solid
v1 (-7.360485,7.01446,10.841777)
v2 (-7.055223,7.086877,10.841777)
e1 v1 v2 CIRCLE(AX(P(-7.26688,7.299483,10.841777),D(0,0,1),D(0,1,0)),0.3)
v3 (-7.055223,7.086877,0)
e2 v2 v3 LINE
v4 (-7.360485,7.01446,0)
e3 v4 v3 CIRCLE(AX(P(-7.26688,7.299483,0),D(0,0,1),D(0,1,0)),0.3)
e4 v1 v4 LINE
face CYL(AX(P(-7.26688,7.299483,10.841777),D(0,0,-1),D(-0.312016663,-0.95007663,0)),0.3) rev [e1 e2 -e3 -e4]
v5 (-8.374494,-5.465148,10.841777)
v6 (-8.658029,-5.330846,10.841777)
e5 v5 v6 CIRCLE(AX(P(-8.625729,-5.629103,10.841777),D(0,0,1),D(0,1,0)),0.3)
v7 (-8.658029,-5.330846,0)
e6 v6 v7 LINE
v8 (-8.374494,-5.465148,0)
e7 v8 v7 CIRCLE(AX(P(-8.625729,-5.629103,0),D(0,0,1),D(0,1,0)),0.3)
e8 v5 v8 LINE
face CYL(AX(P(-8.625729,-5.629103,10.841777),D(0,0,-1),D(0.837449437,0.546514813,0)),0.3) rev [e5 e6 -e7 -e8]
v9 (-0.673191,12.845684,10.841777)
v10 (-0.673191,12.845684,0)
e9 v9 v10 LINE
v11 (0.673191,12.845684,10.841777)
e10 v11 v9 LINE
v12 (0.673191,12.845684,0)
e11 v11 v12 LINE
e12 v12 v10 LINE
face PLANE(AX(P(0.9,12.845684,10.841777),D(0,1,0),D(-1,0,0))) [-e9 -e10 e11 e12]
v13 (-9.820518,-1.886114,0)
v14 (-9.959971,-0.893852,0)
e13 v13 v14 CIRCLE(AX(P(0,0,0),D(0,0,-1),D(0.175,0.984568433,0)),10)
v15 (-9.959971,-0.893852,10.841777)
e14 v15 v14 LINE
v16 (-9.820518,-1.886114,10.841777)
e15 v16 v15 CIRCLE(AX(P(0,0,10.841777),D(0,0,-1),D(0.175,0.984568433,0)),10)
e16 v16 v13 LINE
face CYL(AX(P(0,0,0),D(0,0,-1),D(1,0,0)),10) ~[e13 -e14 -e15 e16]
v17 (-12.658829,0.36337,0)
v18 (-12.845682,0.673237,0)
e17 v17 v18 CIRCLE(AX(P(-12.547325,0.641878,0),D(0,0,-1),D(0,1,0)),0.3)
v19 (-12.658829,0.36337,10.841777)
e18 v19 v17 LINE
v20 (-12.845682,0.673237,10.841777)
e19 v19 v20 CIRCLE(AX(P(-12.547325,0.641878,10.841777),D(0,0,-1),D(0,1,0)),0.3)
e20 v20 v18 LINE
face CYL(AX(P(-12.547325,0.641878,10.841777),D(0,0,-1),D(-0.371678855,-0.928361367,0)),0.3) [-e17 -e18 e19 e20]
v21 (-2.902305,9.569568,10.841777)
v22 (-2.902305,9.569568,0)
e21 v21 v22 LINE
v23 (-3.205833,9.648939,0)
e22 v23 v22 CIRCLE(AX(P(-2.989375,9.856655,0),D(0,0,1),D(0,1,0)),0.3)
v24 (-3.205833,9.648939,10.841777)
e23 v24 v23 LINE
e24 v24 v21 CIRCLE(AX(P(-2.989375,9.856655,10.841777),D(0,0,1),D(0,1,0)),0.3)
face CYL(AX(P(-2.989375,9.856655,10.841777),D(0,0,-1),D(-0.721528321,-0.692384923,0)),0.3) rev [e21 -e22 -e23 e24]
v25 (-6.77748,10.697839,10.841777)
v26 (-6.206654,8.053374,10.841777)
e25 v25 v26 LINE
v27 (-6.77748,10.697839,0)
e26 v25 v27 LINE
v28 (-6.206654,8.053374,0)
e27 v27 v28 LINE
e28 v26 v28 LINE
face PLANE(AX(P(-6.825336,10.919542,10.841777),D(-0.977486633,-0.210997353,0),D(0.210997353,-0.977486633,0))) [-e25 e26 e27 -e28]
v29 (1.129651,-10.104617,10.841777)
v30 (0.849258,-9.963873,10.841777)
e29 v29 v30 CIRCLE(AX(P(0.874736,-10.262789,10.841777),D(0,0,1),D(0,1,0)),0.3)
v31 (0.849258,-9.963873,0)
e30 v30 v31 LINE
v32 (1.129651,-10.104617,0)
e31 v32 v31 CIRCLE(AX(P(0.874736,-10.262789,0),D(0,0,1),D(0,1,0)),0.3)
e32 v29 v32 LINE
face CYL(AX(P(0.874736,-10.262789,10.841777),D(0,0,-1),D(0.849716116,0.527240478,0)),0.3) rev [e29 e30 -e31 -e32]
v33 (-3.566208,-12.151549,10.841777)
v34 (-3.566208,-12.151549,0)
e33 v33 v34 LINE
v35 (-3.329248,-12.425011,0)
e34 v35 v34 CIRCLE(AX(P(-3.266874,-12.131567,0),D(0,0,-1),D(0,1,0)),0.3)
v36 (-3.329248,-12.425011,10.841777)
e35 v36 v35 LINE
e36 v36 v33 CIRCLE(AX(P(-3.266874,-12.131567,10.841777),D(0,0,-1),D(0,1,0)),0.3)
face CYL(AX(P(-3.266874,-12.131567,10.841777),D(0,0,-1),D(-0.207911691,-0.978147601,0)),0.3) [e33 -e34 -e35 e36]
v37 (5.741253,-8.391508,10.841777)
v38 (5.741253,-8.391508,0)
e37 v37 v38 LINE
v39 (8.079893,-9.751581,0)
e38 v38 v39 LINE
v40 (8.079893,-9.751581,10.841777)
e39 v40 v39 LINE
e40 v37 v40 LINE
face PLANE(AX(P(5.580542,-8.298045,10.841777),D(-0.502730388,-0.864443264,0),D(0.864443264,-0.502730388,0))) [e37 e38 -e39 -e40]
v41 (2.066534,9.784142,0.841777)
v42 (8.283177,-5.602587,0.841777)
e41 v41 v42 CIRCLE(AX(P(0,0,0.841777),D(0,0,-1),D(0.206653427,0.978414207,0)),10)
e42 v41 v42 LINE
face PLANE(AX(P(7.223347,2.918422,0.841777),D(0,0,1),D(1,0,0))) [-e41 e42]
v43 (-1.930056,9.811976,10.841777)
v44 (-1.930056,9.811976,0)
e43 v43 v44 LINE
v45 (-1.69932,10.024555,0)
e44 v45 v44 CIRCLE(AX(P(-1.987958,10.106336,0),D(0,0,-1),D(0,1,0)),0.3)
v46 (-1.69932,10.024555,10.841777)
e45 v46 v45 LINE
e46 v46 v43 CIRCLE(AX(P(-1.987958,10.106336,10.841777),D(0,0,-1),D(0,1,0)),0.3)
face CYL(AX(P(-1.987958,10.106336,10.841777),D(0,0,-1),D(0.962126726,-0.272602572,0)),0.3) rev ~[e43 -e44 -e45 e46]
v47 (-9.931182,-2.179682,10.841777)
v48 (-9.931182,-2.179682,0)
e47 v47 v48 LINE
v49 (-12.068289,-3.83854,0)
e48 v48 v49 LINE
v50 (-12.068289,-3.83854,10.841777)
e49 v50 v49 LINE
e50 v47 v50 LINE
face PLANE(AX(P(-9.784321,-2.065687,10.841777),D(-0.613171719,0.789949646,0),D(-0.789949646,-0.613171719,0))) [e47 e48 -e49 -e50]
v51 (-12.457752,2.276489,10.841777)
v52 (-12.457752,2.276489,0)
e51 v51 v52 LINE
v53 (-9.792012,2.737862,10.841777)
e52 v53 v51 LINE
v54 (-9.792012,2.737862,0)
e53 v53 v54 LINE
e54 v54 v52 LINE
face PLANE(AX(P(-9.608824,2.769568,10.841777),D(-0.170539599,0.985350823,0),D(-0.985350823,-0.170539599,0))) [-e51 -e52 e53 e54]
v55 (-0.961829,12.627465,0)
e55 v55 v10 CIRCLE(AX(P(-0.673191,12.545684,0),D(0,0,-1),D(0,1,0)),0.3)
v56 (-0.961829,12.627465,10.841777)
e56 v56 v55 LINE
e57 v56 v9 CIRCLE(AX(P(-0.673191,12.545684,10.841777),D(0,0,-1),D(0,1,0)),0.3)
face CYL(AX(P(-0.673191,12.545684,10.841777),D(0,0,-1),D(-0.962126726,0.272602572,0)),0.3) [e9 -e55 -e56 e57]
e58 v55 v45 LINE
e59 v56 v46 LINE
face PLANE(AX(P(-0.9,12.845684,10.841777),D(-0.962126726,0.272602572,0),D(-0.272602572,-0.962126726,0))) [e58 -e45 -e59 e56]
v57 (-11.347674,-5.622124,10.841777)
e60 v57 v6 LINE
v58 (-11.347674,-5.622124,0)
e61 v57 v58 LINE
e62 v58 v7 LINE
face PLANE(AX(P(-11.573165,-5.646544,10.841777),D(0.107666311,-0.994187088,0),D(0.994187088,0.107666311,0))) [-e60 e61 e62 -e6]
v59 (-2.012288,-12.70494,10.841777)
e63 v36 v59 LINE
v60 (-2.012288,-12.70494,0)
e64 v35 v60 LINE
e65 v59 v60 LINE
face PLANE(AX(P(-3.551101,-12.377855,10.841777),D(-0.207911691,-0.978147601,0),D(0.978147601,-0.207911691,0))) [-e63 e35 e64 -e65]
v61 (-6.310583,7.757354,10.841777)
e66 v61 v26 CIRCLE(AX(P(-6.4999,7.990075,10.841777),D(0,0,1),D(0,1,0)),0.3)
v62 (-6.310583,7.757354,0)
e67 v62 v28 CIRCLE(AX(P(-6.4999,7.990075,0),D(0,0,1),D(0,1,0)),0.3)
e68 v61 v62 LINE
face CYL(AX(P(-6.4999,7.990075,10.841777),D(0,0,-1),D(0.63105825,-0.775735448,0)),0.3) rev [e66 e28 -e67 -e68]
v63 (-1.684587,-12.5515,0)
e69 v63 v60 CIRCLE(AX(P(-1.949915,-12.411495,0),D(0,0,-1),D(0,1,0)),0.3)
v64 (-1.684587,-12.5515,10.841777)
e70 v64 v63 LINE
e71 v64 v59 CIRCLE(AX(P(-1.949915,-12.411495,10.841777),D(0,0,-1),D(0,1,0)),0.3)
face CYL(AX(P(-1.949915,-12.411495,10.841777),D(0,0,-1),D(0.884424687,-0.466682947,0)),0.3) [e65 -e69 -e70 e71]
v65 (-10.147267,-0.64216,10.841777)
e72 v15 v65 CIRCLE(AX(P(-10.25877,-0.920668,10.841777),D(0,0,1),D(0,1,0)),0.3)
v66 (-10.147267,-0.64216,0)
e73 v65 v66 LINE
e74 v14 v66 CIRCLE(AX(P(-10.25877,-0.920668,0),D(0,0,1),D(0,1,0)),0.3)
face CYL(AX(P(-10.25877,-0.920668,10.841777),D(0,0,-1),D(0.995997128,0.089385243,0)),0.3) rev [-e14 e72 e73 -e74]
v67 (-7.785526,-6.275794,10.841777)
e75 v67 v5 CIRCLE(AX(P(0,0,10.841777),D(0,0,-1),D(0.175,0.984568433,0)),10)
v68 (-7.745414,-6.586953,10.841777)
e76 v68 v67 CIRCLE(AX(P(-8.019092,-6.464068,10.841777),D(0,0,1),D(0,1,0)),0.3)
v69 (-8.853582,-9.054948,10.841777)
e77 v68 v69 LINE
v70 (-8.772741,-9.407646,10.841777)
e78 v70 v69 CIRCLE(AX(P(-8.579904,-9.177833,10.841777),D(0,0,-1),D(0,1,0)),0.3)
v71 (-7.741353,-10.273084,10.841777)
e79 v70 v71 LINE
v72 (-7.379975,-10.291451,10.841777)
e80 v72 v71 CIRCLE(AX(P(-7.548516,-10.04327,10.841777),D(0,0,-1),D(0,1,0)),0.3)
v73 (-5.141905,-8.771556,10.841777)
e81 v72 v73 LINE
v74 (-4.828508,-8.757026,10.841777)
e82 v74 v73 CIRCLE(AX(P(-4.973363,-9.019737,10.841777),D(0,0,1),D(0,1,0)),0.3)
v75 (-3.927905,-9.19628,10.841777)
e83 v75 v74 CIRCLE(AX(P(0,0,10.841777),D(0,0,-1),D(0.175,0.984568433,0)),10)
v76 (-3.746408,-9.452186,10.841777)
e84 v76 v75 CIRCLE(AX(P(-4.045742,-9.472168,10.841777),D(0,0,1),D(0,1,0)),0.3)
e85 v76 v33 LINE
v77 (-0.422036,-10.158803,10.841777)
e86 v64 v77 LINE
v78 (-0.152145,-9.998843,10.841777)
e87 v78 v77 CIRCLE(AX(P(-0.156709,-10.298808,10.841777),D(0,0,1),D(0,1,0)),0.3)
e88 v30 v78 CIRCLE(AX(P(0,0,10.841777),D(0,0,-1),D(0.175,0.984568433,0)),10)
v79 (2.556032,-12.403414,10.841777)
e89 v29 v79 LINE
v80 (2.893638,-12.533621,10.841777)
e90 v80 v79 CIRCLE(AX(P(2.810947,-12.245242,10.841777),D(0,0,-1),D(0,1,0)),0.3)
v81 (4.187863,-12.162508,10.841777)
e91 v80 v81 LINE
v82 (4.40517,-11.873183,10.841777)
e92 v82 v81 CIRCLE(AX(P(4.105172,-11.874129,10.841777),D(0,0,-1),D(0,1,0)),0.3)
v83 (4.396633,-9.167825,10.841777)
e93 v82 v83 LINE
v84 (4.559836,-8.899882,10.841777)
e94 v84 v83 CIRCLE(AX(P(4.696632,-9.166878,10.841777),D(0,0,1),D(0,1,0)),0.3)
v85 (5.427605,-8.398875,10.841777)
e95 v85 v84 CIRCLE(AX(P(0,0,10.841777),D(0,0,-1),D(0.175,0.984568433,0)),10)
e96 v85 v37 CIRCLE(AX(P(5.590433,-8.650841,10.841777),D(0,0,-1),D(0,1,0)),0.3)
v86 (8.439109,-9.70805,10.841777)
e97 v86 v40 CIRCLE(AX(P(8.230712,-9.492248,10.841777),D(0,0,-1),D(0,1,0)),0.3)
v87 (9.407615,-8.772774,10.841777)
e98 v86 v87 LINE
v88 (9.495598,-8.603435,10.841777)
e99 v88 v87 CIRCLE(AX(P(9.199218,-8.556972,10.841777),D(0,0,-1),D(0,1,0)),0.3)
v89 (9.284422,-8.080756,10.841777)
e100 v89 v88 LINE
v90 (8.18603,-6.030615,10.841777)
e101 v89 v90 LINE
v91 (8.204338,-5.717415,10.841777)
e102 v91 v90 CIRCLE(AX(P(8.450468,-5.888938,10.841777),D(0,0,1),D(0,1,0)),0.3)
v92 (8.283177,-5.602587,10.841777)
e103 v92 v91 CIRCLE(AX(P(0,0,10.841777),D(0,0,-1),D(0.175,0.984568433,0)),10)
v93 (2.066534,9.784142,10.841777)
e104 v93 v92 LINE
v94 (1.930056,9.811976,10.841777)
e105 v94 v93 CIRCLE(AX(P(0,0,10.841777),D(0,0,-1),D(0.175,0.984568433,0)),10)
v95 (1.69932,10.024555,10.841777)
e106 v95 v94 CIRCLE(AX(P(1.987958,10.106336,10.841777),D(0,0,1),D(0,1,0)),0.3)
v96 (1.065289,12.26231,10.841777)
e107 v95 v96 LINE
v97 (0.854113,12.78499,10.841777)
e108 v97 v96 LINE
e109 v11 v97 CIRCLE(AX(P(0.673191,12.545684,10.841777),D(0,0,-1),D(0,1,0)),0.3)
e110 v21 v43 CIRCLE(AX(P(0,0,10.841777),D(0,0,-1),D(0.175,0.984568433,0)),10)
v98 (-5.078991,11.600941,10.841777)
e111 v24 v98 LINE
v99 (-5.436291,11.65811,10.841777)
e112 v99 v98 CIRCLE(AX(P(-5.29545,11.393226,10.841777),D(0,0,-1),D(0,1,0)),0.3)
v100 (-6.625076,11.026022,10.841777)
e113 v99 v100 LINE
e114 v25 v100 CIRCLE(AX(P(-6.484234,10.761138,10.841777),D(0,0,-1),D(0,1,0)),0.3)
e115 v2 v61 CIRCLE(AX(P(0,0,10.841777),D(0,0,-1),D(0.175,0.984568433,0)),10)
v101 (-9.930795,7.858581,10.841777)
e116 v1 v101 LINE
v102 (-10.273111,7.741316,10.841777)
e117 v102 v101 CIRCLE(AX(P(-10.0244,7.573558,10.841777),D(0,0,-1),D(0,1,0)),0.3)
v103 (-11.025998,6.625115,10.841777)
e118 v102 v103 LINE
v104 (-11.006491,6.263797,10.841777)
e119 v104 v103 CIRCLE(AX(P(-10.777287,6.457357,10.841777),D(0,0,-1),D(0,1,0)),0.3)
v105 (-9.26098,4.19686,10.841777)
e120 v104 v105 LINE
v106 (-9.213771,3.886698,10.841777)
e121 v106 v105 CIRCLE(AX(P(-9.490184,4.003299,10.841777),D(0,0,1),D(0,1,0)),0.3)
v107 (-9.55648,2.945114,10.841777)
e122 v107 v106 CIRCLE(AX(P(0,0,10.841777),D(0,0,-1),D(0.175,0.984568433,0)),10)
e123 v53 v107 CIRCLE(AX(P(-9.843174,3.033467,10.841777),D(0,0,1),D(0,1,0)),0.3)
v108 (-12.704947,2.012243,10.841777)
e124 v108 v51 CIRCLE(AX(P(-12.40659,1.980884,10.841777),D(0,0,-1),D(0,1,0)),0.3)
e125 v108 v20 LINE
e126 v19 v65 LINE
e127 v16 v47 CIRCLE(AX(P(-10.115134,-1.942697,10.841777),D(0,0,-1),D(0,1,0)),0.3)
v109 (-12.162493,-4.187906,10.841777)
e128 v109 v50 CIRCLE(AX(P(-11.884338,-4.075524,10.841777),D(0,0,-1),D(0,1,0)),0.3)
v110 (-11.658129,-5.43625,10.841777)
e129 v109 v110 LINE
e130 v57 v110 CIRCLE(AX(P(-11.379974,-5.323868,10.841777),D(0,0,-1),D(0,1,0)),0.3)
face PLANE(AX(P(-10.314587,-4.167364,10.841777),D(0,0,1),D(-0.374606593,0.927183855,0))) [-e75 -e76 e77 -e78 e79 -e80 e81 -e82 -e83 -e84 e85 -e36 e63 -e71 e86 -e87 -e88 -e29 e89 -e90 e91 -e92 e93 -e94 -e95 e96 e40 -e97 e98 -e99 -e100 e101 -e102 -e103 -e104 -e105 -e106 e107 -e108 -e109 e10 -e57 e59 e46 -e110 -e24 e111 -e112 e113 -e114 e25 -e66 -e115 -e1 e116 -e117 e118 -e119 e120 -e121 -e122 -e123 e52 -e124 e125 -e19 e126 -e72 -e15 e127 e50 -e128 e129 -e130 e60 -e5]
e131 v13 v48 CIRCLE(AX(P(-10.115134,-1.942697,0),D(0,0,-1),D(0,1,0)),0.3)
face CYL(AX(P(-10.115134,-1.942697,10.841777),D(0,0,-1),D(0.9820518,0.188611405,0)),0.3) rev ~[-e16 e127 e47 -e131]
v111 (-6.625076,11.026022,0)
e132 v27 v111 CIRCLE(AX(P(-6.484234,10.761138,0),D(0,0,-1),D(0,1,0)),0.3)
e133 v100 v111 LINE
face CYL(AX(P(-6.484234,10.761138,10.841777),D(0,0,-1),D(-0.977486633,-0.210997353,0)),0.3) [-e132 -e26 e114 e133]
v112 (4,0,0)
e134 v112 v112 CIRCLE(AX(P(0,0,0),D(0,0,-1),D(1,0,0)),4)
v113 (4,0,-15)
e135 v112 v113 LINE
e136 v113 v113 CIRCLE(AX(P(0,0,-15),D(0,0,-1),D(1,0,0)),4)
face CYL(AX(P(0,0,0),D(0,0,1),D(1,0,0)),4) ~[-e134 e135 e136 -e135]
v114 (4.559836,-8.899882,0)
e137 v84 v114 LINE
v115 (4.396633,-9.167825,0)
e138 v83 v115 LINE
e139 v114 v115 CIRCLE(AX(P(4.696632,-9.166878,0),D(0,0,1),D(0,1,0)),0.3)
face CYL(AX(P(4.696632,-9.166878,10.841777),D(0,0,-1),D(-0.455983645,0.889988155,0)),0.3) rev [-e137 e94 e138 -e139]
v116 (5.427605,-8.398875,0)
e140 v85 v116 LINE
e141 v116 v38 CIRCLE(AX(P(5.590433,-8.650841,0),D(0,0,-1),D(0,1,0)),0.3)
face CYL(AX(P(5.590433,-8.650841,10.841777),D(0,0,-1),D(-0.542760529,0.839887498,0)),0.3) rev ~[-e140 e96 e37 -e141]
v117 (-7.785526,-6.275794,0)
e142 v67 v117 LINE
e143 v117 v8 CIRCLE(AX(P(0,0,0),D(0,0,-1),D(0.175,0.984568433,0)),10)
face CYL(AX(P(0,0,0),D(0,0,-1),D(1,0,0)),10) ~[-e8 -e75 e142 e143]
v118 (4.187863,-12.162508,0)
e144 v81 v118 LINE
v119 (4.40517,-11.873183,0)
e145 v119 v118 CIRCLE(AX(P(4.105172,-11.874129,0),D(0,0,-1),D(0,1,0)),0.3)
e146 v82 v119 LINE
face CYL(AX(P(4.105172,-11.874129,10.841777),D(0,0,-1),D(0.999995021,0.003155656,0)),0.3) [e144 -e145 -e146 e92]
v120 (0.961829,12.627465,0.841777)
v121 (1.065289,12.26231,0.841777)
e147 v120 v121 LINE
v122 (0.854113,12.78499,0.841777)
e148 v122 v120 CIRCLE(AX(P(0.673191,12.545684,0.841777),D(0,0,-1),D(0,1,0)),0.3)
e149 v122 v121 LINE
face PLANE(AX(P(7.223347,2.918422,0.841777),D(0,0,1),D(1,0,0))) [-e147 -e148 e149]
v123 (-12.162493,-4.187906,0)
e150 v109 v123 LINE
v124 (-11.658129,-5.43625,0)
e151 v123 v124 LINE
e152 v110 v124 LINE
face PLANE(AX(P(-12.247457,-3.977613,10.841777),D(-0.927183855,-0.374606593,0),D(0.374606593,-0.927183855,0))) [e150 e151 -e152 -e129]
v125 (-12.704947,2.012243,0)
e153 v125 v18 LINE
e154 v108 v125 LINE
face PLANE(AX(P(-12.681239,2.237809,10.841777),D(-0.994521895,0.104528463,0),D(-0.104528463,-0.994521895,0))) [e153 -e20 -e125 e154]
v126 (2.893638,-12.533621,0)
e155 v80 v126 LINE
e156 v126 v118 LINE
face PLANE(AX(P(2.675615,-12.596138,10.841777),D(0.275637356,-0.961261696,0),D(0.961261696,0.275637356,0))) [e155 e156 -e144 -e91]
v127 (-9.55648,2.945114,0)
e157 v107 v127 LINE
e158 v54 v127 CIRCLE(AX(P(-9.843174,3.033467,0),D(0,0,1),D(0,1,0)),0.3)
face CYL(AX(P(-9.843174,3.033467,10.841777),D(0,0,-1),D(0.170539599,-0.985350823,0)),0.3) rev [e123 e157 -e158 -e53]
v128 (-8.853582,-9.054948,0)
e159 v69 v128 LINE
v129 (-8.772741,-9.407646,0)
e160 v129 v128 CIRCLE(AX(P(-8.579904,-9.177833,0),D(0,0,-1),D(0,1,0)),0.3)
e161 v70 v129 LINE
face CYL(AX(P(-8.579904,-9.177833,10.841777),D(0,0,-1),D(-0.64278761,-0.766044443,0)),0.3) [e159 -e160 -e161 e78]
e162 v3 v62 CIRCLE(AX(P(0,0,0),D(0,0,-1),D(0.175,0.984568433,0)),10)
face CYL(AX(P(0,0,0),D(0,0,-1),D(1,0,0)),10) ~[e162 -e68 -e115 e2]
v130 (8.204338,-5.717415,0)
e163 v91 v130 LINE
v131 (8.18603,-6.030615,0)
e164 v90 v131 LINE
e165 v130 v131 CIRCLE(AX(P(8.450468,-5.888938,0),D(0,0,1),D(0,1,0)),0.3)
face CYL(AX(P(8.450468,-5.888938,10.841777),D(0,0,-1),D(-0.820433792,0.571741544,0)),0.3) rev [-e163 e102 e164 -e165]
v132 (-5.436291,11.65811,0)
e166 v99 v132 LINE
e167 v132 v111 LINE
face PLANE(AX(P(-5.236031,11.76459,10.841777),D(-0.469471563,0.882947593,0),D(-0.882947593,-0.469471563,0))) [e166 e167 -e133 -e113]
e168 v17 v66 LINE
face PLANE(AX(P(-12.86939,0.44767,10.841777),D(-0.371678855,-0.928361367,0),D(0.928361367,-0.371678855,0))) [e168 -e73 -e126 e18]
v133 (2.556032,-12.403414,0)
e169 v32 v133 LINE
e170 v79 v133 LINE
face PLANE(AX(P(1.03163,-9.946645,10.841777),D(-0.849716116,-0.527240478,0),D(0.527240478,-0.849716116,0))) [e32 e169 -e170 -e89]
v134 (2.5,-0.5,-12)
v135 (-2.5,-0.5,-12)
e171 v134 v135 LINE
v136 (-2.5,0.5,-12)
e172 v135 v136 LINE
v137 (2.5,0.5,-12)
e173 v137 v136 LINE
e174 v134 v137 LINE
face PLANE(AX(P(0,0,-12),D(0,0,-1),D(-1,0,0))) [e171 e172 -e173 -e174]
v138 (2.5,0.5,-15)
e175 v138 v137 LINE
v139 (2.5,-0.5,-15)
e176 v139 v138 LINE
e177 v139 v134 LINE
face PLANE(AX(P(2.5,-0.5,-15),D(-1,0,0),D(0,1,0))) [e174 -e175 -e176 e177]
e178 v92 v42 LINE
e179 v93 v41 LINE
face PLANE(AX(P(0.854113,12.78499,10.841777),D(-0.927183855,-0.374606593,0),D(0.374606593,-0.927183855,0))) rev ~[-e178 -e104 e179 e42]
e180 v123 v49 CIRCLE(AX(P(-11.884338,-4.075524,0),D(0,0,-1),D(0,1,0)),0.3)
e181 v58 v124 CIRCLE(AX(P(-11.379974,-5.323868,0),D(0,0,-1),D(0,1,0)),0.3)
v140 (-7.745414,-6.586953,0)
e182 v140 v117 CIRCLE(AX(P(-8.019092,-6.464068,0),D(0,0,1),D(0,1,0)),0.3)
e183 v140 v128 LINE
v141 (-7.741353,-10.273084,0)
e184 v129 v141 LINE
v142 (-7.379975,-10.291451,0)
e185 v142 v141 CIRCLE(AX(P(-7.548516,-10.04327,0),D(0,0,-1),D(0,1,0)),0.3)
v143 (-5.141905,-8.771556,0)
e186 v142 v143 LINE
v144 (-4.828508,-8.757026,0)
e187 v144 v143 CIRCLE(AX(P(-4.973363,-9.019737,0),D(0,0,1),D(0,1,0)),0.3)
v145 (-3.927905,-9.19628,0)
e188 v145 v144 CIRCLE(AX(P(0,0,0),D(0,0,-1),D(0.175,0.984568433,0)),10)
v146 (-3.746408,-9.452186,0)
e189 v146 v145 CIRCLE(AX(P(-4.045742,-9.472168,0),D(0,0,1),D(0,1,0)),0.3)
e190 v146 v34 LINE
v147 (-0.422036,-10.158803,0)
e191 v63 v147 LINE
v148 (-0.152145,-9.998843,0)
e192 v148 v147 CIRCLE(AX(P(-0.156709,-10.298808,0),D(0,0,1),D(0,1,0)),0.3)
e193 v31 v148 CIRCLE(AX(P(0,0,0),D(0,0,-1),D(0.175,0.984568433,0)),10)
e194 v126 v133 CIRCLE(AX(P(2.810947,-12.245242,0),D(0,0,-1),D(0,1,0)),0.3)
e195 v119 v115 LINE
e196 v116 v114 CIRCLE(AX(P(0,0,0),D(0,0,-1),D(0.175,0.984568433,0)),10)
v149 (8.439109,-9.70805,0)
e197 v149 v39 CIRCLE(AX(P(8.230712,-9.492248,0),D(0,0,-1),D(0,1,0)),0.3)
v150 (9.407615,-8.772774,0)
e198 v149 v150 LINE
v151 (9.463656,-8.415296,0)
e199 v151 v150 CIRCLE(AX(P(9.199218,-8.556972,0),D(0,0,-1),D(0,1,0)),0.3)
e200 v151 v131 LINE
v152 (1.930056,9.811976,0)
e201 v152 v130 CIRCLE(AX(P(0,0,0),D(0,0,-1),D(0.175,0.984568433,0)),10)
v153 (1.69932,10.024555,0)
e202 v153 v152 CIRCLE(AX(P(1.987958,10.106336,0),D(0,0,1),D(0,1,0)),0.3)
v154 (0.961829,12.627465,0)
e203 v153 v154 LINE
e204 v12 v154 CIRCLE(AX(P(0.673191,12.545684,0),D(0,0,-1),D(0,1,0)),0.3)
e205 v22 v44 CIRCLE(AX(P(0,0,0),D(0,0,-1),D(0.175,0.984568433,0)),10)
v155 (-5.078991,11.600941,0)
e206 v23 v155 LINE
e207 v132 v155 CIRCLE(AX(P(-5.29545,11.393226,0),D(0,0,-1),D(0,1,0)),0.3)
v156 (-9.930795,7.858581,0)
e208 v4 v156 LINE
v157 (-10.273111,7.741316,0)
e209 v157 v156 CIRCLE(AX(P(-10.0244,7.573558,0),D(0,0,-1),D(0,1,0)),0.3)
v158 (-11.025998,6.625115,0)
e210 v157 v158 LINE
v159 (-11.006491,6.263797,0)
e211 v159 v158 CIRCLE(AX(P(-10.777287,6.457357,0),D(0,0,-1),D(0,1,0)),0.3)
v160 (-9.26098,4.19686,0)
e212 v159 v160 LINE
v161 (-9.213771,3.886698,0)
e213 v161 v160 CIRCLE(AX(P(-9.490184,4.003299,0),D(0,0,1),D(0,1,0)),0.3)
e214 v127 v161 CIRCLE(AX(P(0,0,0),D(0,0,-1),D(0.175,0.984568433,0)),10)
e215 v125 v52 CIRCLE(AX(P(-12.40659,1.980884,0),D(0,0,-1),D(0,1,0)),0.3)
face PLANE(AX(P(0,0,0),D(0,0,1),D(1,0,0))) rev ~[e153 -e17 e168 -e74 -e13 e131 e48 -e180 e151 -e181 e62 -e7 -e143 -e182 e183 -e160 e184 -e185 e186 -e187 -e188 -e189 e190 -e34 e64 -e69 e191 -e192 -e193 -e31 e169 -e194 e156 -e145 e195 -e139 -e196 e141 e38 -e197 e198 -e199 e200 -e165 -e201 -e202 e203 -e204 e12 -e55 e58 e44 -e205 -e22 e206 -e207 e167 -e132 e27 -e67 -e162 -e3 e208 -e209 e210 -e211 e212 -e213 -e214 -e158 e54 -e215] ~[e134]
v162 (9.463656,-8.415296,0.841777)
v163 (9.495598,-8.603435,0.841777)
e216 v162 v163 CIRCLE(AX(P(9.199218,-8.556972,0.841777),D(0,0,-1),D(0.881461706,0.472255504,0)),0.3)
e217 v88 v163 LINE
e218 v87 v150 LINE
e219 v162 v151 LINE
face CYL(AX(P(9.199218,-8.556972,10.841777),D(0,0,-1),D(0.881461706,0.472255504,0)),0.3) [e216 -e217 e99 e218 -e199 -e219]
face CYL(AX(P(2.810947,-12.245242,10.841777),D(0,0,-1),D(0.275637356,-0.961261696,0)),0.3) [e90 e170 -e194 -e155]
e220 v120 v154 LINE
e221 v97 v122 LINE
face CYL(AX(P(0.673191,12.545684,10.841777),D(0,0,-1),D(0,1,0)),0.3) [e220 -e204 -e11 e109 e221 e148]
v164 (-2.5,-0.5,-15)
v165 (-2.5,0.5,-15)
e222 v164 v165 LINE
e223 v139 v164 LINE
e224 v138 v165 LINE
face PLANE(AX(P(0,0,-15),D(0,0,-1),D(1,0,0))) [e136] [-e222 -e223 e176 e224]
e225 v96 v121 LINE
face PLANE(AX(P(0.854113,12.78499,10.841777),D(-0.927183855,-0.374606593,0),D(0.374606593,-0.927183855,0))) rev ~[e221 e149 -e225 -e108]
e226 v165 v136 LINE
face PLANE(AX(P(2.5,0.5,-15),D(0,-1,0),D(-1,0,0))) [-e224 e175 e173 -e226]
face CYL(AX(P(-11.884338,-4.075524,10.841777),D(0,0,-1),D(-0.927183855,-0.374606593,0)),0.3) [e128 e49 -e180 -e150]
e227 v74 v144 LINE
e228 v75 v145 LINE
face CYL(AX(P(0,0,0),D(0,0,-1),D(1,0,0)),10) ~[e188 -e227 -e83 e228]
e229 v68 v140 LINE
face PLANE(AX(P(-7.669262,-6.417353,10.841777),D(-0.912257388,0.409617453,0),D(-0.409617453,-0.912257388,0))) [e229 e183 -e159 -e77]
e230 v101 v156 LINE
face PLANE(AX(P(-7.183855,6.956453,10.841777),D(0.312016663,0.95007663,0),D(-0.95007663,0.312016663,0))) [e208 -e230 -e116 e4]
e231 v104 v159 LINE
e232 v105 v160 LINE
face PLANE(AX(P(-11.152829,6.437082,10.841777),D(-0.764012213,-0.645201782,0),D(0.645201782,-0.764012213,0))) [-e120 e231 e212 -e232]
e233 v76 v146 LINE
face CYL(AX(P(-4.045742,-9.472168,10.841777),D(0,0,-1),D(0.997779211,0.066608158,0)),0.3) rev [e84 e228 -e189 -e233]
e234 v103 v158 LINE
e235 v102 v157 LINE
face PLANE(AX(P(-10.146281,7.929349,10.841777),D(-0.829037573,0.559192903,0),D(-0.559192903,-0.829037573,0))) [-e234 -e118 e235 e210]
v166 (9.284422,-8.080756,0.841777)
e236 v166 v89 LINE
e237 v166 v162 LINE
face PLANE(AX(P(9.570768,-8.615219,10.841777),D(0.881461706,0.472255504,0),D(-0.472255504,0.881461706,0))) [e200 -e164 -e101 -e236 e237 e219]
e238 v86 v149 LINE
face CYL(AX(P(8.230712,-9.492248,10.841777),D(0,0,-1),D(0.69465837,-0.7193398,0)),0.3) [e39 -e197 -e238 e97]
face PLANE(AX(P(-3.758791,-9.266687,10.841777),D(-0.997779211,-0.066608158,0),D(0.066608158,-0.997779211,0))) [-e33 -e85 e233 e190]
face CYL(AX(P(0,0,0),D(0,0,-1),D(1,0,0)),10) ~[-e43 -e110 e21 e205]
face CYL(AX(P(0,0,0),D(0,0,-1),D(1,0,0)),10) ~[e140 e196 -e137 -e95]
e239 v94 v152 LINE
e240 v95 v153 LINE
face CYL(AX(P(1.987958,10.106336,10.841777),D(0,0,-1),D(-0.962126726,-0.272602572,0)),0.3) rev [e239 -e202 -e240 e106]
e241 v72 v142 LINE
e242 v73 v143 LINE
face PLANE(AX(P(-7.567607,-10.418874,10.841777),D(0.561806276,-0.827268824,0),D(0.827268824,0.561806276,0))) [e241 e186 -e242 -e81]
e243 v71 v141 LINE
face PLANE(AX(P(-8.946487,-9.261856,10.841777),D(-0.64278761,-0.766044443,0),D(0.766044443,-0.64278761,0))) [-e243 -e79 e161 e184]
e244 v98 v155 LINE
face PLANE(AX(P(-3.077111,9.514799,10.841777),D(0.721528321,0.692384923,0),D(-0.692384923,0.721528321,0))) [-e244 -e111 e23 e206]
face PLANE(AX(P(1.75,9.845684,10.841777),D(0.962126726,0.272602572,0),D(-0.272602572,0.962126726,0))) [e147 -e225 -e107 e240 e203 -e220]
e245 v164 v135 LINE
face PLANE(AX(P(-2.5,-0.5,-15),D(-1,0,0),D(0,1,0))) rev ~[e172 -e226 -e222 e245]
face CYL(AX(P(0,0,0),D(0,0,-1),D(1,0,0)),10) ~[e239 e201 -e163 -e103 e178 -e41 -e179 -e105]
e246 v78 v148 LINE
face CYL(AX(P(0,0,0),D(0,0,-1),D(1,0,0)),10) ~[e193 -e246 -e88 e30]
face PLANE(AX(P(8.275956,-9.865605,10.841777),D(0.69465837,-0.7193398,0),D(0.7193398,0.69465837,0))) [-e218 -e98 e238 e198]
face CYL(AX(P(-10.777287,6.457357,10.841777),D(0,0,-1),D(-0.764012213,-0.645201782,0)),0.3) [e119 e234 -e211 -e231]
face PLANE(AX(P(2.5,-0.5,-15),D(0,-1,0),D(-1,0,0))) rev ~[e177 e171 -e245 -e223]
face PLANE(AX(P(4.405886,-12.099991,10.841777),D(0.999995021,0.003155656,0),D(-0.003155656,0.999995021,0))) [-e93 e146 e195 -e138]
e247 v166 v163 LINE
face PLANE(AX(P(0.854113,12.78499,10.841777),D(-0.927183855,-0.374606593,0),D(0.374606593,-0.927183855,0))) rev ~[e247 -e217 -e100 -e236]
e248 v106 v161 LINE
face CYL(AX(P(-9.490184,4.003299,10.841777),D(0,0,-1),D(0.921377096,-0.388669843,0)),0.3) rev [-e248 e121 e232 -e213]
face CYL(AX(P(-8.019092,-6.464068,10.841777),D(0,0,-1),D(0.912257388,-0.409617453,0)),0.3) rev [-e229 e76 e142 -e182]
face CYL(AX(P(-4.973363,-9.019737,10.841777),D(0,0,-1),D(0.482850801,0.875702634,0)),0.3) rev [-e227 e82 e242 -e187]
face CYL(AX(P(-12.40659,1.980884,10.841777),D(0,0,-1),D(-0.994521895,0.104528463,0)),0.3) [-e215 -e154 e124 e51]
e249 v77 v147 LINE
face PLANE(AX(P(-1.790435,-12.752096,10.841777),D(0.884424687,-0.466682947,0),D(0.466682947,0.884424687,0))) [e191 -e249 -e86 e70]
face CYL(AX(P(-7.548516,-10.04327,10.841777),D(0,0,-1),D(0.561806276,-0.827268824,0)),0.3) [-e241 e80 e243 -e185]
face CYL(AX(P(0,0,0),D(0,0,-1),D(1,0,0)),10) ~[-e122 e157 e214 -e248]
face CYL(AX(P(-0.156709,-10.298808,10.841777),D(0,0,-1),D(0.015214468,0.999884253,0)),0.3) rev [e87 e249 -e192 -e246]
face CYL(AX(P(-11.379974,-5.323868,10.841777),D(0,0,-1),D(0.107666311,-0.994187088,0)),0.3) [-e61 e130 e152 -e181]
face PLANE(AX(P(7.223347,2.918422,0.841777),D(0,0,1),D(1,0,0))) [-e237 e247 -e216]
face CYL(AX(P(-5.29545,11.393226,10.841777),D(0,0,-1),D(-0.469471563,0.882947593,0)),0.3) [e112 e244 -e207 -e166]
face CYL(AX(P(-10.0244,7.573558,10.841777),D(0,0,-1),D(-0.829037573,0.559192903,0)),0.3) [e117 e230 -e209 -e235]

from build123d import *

# Parameters (mm, degrees)
ESQUISSE1_R                        = 10
MAIN_EXTRUSION_DEPTH               = 10.841776527
GEAR_ELEMENT_DEPTH                 = 10.841776527
CONG_1_R                           = 0.3
R_P_TITION_CIRCULAIRE1_COUNT       = 9
R_P_TITION_CIRCULAIRE1_ANGLE       = 224
CONG_1_OF_R_P_TITION_CIRCULAIRE1_R = 0.3
ESQUISSE3_R                        = 4
MAIN_AXE_DEPTH                     = 15
ESQUISSE4_W                        = 5
ESQUISSE4_H                        = 1
AXE_TRAIT_DEPTH                    = 3
ENL_V_MAT_EXTRU_1_DEPTH            = 10


with BuildPart() as part:
    # Esquisse1 → Main Extrusion (new body)
    with BuildSketch(Plane.XY):
        Circle(ESQUISSE1_R)
    extrude(amount=MAIN_EXTRUSION_DEPTH)

    # Esquisse2 → Gear Element (add)
    with BuildSketch(Plane.XY.offset(10.841776527)):
        Polygon((-1.75, 9.845684334), (1.75, 9.845684334), (0.9, 12.845684334), (-0.9, 12.845684334), align=None)
    gear_element = extrude(amount=-GEAR_ELEMENT_DEPTH)

    # Congé1
    cong_1_edges = [part.edges().sort_by_distance(p)[0] for p in [
        (-1.75, 9.845684334, 5.420888263),
        (-0.9, 12.845684334, 5.420888263),
        (0.9, 12.845684334, 5.420888263),
        (1.75, 9.845684334, 5.420888263),
    ]]
    fillet(cong_1_edges, radius=CONG_1_R)

    # Répétition circulaire1: Gear Element ×9 about axis
    r_p_tition_circulaire1_axis = Axis((0, 0, 0), (0, 0, 1))
    for i in range(1, R_P_TITION_CIRCULAIRE1_COUNT):
        add(gear_element.rotate(r_p_tition_circulaire1_axis, i * R_P_TITION_CIRCULAIRE1_ANGLE / (R_P_TITION_CIRCULAIRE1_COUNT - 1)))

    # Congé1 of Répétition circulaire1
    cong_1_of_r_p_tition_circulaire1_edges = [part.edges().sort_by_distance(p)[0] for p in [
        (-6.167427098, 7.871648048, 5.420888263),
        (-6.825336333, 10.919541655, 5.420888263),
        (-5.236030666, 11.764590468, 5.420888263),
        (-3.077110523, 9.514798517, 5.420888263),
        (-9.141029821, 4.054821057, 5.420888263),
        (-11.152828571, 6.437081704, 5.420888263),
        (-10.146281345, 7.929349335, 5.420888263),
        (-7.183854659, 6.956452561, 5.420888263),
        (-9.974673456, -0.711259064, 5.420888263),
        (-12.869389948, 0.447669937, 5.420888263),
        (-12.681238714, 2.237809349, 5.420888263),
        (-9.608823834, 2.76956757, 5.420888263),
        (-8.473198013, -5.310830014, 5.420888263),
        (-11.573165181, -5.646543517, 5.420888263),
        (-12.247457049, -3.977612579, 5.420888263),
        (-9.78432109, -2.065686523, 5.420888263),
        (-4.988106123, -8.66711009, 5.420888263),
        (-7.567606729, -10.418873951, 5.420888263),
        (-8.946486726, -9.261856253, 5.420888263),
        (-7.669261674, -6.417353456, 5.420888263),
        (-0.335274576, -9.994377968, 5.420888263),
        (-1.790435109, -12.752095833, 5.420888263),
        (-3.55110079, -12.377854789, 5.420888263),
        (-3.758791178, -9.26668705, 5.420888263),
        (4.396046364, -8.981913848, 5.420888263),
        (4.40588599, -12.099990688, 5.420888263),
        (2.675614937, -12.596137928, 5.420888263),
        (1.031630428, -9.946644593, 5.420888263),
        (8.098231686, -5.866740455, 5.420888263),
        (9.570767967, -8.61521947, 5.420888263),
        (8.275956326, -9.865604537, 5.420888263),
        (5.580542385, -8.298044751, 5.420888263),
    ]]
    fillet(cong_1_of_r_p_tition_circulaire1_edges, radius=CONG_1_OF_R_P_TITION_CIRCULAIRE1_R)

    # Esquisse3 → Main Axe (add)
    with BuildSketch(Plane(origin=(0, 0, 0), x_dir=(-1, 0, 0), z_dir=(0, 0, -1))):
        with Locations(Location((0, 0, 0), (0, 0, 180))):
            Circle(ESQUISSE3_R)
    extrude(amount=MAIN_AXE_DEPTH)

    # Esquisse4 → Axe Trait (cut)
    with BuildSketch(Plane(origin=(0, 0, -15), x_dir=(-1, 0, 0), z_dir=(0, 0, -1))):
        Rectangle(ESQUISSE4_W, ESQUISSE4_H)
    extrude(amount=-AXE_TRAIT_DEPTH, mode=Mode.SUBTRACT)

    # Esquisse5 → Enlèv. mat.-Extru.1 (cut)
    with BuildSketch(Plane.XY.offset(10.841776527)):
        Polygon((0.854113079, 12.78498982), (9.495597726, -8.603435225), (13.592580869, -6.948146588), (4.951096222, 14.440278457), align=None)
    extrude(amount=-ENL_V_MAT_EXTRU_1_DEPTH, mode=Mode.SUBTRACT)


solid = part.part
